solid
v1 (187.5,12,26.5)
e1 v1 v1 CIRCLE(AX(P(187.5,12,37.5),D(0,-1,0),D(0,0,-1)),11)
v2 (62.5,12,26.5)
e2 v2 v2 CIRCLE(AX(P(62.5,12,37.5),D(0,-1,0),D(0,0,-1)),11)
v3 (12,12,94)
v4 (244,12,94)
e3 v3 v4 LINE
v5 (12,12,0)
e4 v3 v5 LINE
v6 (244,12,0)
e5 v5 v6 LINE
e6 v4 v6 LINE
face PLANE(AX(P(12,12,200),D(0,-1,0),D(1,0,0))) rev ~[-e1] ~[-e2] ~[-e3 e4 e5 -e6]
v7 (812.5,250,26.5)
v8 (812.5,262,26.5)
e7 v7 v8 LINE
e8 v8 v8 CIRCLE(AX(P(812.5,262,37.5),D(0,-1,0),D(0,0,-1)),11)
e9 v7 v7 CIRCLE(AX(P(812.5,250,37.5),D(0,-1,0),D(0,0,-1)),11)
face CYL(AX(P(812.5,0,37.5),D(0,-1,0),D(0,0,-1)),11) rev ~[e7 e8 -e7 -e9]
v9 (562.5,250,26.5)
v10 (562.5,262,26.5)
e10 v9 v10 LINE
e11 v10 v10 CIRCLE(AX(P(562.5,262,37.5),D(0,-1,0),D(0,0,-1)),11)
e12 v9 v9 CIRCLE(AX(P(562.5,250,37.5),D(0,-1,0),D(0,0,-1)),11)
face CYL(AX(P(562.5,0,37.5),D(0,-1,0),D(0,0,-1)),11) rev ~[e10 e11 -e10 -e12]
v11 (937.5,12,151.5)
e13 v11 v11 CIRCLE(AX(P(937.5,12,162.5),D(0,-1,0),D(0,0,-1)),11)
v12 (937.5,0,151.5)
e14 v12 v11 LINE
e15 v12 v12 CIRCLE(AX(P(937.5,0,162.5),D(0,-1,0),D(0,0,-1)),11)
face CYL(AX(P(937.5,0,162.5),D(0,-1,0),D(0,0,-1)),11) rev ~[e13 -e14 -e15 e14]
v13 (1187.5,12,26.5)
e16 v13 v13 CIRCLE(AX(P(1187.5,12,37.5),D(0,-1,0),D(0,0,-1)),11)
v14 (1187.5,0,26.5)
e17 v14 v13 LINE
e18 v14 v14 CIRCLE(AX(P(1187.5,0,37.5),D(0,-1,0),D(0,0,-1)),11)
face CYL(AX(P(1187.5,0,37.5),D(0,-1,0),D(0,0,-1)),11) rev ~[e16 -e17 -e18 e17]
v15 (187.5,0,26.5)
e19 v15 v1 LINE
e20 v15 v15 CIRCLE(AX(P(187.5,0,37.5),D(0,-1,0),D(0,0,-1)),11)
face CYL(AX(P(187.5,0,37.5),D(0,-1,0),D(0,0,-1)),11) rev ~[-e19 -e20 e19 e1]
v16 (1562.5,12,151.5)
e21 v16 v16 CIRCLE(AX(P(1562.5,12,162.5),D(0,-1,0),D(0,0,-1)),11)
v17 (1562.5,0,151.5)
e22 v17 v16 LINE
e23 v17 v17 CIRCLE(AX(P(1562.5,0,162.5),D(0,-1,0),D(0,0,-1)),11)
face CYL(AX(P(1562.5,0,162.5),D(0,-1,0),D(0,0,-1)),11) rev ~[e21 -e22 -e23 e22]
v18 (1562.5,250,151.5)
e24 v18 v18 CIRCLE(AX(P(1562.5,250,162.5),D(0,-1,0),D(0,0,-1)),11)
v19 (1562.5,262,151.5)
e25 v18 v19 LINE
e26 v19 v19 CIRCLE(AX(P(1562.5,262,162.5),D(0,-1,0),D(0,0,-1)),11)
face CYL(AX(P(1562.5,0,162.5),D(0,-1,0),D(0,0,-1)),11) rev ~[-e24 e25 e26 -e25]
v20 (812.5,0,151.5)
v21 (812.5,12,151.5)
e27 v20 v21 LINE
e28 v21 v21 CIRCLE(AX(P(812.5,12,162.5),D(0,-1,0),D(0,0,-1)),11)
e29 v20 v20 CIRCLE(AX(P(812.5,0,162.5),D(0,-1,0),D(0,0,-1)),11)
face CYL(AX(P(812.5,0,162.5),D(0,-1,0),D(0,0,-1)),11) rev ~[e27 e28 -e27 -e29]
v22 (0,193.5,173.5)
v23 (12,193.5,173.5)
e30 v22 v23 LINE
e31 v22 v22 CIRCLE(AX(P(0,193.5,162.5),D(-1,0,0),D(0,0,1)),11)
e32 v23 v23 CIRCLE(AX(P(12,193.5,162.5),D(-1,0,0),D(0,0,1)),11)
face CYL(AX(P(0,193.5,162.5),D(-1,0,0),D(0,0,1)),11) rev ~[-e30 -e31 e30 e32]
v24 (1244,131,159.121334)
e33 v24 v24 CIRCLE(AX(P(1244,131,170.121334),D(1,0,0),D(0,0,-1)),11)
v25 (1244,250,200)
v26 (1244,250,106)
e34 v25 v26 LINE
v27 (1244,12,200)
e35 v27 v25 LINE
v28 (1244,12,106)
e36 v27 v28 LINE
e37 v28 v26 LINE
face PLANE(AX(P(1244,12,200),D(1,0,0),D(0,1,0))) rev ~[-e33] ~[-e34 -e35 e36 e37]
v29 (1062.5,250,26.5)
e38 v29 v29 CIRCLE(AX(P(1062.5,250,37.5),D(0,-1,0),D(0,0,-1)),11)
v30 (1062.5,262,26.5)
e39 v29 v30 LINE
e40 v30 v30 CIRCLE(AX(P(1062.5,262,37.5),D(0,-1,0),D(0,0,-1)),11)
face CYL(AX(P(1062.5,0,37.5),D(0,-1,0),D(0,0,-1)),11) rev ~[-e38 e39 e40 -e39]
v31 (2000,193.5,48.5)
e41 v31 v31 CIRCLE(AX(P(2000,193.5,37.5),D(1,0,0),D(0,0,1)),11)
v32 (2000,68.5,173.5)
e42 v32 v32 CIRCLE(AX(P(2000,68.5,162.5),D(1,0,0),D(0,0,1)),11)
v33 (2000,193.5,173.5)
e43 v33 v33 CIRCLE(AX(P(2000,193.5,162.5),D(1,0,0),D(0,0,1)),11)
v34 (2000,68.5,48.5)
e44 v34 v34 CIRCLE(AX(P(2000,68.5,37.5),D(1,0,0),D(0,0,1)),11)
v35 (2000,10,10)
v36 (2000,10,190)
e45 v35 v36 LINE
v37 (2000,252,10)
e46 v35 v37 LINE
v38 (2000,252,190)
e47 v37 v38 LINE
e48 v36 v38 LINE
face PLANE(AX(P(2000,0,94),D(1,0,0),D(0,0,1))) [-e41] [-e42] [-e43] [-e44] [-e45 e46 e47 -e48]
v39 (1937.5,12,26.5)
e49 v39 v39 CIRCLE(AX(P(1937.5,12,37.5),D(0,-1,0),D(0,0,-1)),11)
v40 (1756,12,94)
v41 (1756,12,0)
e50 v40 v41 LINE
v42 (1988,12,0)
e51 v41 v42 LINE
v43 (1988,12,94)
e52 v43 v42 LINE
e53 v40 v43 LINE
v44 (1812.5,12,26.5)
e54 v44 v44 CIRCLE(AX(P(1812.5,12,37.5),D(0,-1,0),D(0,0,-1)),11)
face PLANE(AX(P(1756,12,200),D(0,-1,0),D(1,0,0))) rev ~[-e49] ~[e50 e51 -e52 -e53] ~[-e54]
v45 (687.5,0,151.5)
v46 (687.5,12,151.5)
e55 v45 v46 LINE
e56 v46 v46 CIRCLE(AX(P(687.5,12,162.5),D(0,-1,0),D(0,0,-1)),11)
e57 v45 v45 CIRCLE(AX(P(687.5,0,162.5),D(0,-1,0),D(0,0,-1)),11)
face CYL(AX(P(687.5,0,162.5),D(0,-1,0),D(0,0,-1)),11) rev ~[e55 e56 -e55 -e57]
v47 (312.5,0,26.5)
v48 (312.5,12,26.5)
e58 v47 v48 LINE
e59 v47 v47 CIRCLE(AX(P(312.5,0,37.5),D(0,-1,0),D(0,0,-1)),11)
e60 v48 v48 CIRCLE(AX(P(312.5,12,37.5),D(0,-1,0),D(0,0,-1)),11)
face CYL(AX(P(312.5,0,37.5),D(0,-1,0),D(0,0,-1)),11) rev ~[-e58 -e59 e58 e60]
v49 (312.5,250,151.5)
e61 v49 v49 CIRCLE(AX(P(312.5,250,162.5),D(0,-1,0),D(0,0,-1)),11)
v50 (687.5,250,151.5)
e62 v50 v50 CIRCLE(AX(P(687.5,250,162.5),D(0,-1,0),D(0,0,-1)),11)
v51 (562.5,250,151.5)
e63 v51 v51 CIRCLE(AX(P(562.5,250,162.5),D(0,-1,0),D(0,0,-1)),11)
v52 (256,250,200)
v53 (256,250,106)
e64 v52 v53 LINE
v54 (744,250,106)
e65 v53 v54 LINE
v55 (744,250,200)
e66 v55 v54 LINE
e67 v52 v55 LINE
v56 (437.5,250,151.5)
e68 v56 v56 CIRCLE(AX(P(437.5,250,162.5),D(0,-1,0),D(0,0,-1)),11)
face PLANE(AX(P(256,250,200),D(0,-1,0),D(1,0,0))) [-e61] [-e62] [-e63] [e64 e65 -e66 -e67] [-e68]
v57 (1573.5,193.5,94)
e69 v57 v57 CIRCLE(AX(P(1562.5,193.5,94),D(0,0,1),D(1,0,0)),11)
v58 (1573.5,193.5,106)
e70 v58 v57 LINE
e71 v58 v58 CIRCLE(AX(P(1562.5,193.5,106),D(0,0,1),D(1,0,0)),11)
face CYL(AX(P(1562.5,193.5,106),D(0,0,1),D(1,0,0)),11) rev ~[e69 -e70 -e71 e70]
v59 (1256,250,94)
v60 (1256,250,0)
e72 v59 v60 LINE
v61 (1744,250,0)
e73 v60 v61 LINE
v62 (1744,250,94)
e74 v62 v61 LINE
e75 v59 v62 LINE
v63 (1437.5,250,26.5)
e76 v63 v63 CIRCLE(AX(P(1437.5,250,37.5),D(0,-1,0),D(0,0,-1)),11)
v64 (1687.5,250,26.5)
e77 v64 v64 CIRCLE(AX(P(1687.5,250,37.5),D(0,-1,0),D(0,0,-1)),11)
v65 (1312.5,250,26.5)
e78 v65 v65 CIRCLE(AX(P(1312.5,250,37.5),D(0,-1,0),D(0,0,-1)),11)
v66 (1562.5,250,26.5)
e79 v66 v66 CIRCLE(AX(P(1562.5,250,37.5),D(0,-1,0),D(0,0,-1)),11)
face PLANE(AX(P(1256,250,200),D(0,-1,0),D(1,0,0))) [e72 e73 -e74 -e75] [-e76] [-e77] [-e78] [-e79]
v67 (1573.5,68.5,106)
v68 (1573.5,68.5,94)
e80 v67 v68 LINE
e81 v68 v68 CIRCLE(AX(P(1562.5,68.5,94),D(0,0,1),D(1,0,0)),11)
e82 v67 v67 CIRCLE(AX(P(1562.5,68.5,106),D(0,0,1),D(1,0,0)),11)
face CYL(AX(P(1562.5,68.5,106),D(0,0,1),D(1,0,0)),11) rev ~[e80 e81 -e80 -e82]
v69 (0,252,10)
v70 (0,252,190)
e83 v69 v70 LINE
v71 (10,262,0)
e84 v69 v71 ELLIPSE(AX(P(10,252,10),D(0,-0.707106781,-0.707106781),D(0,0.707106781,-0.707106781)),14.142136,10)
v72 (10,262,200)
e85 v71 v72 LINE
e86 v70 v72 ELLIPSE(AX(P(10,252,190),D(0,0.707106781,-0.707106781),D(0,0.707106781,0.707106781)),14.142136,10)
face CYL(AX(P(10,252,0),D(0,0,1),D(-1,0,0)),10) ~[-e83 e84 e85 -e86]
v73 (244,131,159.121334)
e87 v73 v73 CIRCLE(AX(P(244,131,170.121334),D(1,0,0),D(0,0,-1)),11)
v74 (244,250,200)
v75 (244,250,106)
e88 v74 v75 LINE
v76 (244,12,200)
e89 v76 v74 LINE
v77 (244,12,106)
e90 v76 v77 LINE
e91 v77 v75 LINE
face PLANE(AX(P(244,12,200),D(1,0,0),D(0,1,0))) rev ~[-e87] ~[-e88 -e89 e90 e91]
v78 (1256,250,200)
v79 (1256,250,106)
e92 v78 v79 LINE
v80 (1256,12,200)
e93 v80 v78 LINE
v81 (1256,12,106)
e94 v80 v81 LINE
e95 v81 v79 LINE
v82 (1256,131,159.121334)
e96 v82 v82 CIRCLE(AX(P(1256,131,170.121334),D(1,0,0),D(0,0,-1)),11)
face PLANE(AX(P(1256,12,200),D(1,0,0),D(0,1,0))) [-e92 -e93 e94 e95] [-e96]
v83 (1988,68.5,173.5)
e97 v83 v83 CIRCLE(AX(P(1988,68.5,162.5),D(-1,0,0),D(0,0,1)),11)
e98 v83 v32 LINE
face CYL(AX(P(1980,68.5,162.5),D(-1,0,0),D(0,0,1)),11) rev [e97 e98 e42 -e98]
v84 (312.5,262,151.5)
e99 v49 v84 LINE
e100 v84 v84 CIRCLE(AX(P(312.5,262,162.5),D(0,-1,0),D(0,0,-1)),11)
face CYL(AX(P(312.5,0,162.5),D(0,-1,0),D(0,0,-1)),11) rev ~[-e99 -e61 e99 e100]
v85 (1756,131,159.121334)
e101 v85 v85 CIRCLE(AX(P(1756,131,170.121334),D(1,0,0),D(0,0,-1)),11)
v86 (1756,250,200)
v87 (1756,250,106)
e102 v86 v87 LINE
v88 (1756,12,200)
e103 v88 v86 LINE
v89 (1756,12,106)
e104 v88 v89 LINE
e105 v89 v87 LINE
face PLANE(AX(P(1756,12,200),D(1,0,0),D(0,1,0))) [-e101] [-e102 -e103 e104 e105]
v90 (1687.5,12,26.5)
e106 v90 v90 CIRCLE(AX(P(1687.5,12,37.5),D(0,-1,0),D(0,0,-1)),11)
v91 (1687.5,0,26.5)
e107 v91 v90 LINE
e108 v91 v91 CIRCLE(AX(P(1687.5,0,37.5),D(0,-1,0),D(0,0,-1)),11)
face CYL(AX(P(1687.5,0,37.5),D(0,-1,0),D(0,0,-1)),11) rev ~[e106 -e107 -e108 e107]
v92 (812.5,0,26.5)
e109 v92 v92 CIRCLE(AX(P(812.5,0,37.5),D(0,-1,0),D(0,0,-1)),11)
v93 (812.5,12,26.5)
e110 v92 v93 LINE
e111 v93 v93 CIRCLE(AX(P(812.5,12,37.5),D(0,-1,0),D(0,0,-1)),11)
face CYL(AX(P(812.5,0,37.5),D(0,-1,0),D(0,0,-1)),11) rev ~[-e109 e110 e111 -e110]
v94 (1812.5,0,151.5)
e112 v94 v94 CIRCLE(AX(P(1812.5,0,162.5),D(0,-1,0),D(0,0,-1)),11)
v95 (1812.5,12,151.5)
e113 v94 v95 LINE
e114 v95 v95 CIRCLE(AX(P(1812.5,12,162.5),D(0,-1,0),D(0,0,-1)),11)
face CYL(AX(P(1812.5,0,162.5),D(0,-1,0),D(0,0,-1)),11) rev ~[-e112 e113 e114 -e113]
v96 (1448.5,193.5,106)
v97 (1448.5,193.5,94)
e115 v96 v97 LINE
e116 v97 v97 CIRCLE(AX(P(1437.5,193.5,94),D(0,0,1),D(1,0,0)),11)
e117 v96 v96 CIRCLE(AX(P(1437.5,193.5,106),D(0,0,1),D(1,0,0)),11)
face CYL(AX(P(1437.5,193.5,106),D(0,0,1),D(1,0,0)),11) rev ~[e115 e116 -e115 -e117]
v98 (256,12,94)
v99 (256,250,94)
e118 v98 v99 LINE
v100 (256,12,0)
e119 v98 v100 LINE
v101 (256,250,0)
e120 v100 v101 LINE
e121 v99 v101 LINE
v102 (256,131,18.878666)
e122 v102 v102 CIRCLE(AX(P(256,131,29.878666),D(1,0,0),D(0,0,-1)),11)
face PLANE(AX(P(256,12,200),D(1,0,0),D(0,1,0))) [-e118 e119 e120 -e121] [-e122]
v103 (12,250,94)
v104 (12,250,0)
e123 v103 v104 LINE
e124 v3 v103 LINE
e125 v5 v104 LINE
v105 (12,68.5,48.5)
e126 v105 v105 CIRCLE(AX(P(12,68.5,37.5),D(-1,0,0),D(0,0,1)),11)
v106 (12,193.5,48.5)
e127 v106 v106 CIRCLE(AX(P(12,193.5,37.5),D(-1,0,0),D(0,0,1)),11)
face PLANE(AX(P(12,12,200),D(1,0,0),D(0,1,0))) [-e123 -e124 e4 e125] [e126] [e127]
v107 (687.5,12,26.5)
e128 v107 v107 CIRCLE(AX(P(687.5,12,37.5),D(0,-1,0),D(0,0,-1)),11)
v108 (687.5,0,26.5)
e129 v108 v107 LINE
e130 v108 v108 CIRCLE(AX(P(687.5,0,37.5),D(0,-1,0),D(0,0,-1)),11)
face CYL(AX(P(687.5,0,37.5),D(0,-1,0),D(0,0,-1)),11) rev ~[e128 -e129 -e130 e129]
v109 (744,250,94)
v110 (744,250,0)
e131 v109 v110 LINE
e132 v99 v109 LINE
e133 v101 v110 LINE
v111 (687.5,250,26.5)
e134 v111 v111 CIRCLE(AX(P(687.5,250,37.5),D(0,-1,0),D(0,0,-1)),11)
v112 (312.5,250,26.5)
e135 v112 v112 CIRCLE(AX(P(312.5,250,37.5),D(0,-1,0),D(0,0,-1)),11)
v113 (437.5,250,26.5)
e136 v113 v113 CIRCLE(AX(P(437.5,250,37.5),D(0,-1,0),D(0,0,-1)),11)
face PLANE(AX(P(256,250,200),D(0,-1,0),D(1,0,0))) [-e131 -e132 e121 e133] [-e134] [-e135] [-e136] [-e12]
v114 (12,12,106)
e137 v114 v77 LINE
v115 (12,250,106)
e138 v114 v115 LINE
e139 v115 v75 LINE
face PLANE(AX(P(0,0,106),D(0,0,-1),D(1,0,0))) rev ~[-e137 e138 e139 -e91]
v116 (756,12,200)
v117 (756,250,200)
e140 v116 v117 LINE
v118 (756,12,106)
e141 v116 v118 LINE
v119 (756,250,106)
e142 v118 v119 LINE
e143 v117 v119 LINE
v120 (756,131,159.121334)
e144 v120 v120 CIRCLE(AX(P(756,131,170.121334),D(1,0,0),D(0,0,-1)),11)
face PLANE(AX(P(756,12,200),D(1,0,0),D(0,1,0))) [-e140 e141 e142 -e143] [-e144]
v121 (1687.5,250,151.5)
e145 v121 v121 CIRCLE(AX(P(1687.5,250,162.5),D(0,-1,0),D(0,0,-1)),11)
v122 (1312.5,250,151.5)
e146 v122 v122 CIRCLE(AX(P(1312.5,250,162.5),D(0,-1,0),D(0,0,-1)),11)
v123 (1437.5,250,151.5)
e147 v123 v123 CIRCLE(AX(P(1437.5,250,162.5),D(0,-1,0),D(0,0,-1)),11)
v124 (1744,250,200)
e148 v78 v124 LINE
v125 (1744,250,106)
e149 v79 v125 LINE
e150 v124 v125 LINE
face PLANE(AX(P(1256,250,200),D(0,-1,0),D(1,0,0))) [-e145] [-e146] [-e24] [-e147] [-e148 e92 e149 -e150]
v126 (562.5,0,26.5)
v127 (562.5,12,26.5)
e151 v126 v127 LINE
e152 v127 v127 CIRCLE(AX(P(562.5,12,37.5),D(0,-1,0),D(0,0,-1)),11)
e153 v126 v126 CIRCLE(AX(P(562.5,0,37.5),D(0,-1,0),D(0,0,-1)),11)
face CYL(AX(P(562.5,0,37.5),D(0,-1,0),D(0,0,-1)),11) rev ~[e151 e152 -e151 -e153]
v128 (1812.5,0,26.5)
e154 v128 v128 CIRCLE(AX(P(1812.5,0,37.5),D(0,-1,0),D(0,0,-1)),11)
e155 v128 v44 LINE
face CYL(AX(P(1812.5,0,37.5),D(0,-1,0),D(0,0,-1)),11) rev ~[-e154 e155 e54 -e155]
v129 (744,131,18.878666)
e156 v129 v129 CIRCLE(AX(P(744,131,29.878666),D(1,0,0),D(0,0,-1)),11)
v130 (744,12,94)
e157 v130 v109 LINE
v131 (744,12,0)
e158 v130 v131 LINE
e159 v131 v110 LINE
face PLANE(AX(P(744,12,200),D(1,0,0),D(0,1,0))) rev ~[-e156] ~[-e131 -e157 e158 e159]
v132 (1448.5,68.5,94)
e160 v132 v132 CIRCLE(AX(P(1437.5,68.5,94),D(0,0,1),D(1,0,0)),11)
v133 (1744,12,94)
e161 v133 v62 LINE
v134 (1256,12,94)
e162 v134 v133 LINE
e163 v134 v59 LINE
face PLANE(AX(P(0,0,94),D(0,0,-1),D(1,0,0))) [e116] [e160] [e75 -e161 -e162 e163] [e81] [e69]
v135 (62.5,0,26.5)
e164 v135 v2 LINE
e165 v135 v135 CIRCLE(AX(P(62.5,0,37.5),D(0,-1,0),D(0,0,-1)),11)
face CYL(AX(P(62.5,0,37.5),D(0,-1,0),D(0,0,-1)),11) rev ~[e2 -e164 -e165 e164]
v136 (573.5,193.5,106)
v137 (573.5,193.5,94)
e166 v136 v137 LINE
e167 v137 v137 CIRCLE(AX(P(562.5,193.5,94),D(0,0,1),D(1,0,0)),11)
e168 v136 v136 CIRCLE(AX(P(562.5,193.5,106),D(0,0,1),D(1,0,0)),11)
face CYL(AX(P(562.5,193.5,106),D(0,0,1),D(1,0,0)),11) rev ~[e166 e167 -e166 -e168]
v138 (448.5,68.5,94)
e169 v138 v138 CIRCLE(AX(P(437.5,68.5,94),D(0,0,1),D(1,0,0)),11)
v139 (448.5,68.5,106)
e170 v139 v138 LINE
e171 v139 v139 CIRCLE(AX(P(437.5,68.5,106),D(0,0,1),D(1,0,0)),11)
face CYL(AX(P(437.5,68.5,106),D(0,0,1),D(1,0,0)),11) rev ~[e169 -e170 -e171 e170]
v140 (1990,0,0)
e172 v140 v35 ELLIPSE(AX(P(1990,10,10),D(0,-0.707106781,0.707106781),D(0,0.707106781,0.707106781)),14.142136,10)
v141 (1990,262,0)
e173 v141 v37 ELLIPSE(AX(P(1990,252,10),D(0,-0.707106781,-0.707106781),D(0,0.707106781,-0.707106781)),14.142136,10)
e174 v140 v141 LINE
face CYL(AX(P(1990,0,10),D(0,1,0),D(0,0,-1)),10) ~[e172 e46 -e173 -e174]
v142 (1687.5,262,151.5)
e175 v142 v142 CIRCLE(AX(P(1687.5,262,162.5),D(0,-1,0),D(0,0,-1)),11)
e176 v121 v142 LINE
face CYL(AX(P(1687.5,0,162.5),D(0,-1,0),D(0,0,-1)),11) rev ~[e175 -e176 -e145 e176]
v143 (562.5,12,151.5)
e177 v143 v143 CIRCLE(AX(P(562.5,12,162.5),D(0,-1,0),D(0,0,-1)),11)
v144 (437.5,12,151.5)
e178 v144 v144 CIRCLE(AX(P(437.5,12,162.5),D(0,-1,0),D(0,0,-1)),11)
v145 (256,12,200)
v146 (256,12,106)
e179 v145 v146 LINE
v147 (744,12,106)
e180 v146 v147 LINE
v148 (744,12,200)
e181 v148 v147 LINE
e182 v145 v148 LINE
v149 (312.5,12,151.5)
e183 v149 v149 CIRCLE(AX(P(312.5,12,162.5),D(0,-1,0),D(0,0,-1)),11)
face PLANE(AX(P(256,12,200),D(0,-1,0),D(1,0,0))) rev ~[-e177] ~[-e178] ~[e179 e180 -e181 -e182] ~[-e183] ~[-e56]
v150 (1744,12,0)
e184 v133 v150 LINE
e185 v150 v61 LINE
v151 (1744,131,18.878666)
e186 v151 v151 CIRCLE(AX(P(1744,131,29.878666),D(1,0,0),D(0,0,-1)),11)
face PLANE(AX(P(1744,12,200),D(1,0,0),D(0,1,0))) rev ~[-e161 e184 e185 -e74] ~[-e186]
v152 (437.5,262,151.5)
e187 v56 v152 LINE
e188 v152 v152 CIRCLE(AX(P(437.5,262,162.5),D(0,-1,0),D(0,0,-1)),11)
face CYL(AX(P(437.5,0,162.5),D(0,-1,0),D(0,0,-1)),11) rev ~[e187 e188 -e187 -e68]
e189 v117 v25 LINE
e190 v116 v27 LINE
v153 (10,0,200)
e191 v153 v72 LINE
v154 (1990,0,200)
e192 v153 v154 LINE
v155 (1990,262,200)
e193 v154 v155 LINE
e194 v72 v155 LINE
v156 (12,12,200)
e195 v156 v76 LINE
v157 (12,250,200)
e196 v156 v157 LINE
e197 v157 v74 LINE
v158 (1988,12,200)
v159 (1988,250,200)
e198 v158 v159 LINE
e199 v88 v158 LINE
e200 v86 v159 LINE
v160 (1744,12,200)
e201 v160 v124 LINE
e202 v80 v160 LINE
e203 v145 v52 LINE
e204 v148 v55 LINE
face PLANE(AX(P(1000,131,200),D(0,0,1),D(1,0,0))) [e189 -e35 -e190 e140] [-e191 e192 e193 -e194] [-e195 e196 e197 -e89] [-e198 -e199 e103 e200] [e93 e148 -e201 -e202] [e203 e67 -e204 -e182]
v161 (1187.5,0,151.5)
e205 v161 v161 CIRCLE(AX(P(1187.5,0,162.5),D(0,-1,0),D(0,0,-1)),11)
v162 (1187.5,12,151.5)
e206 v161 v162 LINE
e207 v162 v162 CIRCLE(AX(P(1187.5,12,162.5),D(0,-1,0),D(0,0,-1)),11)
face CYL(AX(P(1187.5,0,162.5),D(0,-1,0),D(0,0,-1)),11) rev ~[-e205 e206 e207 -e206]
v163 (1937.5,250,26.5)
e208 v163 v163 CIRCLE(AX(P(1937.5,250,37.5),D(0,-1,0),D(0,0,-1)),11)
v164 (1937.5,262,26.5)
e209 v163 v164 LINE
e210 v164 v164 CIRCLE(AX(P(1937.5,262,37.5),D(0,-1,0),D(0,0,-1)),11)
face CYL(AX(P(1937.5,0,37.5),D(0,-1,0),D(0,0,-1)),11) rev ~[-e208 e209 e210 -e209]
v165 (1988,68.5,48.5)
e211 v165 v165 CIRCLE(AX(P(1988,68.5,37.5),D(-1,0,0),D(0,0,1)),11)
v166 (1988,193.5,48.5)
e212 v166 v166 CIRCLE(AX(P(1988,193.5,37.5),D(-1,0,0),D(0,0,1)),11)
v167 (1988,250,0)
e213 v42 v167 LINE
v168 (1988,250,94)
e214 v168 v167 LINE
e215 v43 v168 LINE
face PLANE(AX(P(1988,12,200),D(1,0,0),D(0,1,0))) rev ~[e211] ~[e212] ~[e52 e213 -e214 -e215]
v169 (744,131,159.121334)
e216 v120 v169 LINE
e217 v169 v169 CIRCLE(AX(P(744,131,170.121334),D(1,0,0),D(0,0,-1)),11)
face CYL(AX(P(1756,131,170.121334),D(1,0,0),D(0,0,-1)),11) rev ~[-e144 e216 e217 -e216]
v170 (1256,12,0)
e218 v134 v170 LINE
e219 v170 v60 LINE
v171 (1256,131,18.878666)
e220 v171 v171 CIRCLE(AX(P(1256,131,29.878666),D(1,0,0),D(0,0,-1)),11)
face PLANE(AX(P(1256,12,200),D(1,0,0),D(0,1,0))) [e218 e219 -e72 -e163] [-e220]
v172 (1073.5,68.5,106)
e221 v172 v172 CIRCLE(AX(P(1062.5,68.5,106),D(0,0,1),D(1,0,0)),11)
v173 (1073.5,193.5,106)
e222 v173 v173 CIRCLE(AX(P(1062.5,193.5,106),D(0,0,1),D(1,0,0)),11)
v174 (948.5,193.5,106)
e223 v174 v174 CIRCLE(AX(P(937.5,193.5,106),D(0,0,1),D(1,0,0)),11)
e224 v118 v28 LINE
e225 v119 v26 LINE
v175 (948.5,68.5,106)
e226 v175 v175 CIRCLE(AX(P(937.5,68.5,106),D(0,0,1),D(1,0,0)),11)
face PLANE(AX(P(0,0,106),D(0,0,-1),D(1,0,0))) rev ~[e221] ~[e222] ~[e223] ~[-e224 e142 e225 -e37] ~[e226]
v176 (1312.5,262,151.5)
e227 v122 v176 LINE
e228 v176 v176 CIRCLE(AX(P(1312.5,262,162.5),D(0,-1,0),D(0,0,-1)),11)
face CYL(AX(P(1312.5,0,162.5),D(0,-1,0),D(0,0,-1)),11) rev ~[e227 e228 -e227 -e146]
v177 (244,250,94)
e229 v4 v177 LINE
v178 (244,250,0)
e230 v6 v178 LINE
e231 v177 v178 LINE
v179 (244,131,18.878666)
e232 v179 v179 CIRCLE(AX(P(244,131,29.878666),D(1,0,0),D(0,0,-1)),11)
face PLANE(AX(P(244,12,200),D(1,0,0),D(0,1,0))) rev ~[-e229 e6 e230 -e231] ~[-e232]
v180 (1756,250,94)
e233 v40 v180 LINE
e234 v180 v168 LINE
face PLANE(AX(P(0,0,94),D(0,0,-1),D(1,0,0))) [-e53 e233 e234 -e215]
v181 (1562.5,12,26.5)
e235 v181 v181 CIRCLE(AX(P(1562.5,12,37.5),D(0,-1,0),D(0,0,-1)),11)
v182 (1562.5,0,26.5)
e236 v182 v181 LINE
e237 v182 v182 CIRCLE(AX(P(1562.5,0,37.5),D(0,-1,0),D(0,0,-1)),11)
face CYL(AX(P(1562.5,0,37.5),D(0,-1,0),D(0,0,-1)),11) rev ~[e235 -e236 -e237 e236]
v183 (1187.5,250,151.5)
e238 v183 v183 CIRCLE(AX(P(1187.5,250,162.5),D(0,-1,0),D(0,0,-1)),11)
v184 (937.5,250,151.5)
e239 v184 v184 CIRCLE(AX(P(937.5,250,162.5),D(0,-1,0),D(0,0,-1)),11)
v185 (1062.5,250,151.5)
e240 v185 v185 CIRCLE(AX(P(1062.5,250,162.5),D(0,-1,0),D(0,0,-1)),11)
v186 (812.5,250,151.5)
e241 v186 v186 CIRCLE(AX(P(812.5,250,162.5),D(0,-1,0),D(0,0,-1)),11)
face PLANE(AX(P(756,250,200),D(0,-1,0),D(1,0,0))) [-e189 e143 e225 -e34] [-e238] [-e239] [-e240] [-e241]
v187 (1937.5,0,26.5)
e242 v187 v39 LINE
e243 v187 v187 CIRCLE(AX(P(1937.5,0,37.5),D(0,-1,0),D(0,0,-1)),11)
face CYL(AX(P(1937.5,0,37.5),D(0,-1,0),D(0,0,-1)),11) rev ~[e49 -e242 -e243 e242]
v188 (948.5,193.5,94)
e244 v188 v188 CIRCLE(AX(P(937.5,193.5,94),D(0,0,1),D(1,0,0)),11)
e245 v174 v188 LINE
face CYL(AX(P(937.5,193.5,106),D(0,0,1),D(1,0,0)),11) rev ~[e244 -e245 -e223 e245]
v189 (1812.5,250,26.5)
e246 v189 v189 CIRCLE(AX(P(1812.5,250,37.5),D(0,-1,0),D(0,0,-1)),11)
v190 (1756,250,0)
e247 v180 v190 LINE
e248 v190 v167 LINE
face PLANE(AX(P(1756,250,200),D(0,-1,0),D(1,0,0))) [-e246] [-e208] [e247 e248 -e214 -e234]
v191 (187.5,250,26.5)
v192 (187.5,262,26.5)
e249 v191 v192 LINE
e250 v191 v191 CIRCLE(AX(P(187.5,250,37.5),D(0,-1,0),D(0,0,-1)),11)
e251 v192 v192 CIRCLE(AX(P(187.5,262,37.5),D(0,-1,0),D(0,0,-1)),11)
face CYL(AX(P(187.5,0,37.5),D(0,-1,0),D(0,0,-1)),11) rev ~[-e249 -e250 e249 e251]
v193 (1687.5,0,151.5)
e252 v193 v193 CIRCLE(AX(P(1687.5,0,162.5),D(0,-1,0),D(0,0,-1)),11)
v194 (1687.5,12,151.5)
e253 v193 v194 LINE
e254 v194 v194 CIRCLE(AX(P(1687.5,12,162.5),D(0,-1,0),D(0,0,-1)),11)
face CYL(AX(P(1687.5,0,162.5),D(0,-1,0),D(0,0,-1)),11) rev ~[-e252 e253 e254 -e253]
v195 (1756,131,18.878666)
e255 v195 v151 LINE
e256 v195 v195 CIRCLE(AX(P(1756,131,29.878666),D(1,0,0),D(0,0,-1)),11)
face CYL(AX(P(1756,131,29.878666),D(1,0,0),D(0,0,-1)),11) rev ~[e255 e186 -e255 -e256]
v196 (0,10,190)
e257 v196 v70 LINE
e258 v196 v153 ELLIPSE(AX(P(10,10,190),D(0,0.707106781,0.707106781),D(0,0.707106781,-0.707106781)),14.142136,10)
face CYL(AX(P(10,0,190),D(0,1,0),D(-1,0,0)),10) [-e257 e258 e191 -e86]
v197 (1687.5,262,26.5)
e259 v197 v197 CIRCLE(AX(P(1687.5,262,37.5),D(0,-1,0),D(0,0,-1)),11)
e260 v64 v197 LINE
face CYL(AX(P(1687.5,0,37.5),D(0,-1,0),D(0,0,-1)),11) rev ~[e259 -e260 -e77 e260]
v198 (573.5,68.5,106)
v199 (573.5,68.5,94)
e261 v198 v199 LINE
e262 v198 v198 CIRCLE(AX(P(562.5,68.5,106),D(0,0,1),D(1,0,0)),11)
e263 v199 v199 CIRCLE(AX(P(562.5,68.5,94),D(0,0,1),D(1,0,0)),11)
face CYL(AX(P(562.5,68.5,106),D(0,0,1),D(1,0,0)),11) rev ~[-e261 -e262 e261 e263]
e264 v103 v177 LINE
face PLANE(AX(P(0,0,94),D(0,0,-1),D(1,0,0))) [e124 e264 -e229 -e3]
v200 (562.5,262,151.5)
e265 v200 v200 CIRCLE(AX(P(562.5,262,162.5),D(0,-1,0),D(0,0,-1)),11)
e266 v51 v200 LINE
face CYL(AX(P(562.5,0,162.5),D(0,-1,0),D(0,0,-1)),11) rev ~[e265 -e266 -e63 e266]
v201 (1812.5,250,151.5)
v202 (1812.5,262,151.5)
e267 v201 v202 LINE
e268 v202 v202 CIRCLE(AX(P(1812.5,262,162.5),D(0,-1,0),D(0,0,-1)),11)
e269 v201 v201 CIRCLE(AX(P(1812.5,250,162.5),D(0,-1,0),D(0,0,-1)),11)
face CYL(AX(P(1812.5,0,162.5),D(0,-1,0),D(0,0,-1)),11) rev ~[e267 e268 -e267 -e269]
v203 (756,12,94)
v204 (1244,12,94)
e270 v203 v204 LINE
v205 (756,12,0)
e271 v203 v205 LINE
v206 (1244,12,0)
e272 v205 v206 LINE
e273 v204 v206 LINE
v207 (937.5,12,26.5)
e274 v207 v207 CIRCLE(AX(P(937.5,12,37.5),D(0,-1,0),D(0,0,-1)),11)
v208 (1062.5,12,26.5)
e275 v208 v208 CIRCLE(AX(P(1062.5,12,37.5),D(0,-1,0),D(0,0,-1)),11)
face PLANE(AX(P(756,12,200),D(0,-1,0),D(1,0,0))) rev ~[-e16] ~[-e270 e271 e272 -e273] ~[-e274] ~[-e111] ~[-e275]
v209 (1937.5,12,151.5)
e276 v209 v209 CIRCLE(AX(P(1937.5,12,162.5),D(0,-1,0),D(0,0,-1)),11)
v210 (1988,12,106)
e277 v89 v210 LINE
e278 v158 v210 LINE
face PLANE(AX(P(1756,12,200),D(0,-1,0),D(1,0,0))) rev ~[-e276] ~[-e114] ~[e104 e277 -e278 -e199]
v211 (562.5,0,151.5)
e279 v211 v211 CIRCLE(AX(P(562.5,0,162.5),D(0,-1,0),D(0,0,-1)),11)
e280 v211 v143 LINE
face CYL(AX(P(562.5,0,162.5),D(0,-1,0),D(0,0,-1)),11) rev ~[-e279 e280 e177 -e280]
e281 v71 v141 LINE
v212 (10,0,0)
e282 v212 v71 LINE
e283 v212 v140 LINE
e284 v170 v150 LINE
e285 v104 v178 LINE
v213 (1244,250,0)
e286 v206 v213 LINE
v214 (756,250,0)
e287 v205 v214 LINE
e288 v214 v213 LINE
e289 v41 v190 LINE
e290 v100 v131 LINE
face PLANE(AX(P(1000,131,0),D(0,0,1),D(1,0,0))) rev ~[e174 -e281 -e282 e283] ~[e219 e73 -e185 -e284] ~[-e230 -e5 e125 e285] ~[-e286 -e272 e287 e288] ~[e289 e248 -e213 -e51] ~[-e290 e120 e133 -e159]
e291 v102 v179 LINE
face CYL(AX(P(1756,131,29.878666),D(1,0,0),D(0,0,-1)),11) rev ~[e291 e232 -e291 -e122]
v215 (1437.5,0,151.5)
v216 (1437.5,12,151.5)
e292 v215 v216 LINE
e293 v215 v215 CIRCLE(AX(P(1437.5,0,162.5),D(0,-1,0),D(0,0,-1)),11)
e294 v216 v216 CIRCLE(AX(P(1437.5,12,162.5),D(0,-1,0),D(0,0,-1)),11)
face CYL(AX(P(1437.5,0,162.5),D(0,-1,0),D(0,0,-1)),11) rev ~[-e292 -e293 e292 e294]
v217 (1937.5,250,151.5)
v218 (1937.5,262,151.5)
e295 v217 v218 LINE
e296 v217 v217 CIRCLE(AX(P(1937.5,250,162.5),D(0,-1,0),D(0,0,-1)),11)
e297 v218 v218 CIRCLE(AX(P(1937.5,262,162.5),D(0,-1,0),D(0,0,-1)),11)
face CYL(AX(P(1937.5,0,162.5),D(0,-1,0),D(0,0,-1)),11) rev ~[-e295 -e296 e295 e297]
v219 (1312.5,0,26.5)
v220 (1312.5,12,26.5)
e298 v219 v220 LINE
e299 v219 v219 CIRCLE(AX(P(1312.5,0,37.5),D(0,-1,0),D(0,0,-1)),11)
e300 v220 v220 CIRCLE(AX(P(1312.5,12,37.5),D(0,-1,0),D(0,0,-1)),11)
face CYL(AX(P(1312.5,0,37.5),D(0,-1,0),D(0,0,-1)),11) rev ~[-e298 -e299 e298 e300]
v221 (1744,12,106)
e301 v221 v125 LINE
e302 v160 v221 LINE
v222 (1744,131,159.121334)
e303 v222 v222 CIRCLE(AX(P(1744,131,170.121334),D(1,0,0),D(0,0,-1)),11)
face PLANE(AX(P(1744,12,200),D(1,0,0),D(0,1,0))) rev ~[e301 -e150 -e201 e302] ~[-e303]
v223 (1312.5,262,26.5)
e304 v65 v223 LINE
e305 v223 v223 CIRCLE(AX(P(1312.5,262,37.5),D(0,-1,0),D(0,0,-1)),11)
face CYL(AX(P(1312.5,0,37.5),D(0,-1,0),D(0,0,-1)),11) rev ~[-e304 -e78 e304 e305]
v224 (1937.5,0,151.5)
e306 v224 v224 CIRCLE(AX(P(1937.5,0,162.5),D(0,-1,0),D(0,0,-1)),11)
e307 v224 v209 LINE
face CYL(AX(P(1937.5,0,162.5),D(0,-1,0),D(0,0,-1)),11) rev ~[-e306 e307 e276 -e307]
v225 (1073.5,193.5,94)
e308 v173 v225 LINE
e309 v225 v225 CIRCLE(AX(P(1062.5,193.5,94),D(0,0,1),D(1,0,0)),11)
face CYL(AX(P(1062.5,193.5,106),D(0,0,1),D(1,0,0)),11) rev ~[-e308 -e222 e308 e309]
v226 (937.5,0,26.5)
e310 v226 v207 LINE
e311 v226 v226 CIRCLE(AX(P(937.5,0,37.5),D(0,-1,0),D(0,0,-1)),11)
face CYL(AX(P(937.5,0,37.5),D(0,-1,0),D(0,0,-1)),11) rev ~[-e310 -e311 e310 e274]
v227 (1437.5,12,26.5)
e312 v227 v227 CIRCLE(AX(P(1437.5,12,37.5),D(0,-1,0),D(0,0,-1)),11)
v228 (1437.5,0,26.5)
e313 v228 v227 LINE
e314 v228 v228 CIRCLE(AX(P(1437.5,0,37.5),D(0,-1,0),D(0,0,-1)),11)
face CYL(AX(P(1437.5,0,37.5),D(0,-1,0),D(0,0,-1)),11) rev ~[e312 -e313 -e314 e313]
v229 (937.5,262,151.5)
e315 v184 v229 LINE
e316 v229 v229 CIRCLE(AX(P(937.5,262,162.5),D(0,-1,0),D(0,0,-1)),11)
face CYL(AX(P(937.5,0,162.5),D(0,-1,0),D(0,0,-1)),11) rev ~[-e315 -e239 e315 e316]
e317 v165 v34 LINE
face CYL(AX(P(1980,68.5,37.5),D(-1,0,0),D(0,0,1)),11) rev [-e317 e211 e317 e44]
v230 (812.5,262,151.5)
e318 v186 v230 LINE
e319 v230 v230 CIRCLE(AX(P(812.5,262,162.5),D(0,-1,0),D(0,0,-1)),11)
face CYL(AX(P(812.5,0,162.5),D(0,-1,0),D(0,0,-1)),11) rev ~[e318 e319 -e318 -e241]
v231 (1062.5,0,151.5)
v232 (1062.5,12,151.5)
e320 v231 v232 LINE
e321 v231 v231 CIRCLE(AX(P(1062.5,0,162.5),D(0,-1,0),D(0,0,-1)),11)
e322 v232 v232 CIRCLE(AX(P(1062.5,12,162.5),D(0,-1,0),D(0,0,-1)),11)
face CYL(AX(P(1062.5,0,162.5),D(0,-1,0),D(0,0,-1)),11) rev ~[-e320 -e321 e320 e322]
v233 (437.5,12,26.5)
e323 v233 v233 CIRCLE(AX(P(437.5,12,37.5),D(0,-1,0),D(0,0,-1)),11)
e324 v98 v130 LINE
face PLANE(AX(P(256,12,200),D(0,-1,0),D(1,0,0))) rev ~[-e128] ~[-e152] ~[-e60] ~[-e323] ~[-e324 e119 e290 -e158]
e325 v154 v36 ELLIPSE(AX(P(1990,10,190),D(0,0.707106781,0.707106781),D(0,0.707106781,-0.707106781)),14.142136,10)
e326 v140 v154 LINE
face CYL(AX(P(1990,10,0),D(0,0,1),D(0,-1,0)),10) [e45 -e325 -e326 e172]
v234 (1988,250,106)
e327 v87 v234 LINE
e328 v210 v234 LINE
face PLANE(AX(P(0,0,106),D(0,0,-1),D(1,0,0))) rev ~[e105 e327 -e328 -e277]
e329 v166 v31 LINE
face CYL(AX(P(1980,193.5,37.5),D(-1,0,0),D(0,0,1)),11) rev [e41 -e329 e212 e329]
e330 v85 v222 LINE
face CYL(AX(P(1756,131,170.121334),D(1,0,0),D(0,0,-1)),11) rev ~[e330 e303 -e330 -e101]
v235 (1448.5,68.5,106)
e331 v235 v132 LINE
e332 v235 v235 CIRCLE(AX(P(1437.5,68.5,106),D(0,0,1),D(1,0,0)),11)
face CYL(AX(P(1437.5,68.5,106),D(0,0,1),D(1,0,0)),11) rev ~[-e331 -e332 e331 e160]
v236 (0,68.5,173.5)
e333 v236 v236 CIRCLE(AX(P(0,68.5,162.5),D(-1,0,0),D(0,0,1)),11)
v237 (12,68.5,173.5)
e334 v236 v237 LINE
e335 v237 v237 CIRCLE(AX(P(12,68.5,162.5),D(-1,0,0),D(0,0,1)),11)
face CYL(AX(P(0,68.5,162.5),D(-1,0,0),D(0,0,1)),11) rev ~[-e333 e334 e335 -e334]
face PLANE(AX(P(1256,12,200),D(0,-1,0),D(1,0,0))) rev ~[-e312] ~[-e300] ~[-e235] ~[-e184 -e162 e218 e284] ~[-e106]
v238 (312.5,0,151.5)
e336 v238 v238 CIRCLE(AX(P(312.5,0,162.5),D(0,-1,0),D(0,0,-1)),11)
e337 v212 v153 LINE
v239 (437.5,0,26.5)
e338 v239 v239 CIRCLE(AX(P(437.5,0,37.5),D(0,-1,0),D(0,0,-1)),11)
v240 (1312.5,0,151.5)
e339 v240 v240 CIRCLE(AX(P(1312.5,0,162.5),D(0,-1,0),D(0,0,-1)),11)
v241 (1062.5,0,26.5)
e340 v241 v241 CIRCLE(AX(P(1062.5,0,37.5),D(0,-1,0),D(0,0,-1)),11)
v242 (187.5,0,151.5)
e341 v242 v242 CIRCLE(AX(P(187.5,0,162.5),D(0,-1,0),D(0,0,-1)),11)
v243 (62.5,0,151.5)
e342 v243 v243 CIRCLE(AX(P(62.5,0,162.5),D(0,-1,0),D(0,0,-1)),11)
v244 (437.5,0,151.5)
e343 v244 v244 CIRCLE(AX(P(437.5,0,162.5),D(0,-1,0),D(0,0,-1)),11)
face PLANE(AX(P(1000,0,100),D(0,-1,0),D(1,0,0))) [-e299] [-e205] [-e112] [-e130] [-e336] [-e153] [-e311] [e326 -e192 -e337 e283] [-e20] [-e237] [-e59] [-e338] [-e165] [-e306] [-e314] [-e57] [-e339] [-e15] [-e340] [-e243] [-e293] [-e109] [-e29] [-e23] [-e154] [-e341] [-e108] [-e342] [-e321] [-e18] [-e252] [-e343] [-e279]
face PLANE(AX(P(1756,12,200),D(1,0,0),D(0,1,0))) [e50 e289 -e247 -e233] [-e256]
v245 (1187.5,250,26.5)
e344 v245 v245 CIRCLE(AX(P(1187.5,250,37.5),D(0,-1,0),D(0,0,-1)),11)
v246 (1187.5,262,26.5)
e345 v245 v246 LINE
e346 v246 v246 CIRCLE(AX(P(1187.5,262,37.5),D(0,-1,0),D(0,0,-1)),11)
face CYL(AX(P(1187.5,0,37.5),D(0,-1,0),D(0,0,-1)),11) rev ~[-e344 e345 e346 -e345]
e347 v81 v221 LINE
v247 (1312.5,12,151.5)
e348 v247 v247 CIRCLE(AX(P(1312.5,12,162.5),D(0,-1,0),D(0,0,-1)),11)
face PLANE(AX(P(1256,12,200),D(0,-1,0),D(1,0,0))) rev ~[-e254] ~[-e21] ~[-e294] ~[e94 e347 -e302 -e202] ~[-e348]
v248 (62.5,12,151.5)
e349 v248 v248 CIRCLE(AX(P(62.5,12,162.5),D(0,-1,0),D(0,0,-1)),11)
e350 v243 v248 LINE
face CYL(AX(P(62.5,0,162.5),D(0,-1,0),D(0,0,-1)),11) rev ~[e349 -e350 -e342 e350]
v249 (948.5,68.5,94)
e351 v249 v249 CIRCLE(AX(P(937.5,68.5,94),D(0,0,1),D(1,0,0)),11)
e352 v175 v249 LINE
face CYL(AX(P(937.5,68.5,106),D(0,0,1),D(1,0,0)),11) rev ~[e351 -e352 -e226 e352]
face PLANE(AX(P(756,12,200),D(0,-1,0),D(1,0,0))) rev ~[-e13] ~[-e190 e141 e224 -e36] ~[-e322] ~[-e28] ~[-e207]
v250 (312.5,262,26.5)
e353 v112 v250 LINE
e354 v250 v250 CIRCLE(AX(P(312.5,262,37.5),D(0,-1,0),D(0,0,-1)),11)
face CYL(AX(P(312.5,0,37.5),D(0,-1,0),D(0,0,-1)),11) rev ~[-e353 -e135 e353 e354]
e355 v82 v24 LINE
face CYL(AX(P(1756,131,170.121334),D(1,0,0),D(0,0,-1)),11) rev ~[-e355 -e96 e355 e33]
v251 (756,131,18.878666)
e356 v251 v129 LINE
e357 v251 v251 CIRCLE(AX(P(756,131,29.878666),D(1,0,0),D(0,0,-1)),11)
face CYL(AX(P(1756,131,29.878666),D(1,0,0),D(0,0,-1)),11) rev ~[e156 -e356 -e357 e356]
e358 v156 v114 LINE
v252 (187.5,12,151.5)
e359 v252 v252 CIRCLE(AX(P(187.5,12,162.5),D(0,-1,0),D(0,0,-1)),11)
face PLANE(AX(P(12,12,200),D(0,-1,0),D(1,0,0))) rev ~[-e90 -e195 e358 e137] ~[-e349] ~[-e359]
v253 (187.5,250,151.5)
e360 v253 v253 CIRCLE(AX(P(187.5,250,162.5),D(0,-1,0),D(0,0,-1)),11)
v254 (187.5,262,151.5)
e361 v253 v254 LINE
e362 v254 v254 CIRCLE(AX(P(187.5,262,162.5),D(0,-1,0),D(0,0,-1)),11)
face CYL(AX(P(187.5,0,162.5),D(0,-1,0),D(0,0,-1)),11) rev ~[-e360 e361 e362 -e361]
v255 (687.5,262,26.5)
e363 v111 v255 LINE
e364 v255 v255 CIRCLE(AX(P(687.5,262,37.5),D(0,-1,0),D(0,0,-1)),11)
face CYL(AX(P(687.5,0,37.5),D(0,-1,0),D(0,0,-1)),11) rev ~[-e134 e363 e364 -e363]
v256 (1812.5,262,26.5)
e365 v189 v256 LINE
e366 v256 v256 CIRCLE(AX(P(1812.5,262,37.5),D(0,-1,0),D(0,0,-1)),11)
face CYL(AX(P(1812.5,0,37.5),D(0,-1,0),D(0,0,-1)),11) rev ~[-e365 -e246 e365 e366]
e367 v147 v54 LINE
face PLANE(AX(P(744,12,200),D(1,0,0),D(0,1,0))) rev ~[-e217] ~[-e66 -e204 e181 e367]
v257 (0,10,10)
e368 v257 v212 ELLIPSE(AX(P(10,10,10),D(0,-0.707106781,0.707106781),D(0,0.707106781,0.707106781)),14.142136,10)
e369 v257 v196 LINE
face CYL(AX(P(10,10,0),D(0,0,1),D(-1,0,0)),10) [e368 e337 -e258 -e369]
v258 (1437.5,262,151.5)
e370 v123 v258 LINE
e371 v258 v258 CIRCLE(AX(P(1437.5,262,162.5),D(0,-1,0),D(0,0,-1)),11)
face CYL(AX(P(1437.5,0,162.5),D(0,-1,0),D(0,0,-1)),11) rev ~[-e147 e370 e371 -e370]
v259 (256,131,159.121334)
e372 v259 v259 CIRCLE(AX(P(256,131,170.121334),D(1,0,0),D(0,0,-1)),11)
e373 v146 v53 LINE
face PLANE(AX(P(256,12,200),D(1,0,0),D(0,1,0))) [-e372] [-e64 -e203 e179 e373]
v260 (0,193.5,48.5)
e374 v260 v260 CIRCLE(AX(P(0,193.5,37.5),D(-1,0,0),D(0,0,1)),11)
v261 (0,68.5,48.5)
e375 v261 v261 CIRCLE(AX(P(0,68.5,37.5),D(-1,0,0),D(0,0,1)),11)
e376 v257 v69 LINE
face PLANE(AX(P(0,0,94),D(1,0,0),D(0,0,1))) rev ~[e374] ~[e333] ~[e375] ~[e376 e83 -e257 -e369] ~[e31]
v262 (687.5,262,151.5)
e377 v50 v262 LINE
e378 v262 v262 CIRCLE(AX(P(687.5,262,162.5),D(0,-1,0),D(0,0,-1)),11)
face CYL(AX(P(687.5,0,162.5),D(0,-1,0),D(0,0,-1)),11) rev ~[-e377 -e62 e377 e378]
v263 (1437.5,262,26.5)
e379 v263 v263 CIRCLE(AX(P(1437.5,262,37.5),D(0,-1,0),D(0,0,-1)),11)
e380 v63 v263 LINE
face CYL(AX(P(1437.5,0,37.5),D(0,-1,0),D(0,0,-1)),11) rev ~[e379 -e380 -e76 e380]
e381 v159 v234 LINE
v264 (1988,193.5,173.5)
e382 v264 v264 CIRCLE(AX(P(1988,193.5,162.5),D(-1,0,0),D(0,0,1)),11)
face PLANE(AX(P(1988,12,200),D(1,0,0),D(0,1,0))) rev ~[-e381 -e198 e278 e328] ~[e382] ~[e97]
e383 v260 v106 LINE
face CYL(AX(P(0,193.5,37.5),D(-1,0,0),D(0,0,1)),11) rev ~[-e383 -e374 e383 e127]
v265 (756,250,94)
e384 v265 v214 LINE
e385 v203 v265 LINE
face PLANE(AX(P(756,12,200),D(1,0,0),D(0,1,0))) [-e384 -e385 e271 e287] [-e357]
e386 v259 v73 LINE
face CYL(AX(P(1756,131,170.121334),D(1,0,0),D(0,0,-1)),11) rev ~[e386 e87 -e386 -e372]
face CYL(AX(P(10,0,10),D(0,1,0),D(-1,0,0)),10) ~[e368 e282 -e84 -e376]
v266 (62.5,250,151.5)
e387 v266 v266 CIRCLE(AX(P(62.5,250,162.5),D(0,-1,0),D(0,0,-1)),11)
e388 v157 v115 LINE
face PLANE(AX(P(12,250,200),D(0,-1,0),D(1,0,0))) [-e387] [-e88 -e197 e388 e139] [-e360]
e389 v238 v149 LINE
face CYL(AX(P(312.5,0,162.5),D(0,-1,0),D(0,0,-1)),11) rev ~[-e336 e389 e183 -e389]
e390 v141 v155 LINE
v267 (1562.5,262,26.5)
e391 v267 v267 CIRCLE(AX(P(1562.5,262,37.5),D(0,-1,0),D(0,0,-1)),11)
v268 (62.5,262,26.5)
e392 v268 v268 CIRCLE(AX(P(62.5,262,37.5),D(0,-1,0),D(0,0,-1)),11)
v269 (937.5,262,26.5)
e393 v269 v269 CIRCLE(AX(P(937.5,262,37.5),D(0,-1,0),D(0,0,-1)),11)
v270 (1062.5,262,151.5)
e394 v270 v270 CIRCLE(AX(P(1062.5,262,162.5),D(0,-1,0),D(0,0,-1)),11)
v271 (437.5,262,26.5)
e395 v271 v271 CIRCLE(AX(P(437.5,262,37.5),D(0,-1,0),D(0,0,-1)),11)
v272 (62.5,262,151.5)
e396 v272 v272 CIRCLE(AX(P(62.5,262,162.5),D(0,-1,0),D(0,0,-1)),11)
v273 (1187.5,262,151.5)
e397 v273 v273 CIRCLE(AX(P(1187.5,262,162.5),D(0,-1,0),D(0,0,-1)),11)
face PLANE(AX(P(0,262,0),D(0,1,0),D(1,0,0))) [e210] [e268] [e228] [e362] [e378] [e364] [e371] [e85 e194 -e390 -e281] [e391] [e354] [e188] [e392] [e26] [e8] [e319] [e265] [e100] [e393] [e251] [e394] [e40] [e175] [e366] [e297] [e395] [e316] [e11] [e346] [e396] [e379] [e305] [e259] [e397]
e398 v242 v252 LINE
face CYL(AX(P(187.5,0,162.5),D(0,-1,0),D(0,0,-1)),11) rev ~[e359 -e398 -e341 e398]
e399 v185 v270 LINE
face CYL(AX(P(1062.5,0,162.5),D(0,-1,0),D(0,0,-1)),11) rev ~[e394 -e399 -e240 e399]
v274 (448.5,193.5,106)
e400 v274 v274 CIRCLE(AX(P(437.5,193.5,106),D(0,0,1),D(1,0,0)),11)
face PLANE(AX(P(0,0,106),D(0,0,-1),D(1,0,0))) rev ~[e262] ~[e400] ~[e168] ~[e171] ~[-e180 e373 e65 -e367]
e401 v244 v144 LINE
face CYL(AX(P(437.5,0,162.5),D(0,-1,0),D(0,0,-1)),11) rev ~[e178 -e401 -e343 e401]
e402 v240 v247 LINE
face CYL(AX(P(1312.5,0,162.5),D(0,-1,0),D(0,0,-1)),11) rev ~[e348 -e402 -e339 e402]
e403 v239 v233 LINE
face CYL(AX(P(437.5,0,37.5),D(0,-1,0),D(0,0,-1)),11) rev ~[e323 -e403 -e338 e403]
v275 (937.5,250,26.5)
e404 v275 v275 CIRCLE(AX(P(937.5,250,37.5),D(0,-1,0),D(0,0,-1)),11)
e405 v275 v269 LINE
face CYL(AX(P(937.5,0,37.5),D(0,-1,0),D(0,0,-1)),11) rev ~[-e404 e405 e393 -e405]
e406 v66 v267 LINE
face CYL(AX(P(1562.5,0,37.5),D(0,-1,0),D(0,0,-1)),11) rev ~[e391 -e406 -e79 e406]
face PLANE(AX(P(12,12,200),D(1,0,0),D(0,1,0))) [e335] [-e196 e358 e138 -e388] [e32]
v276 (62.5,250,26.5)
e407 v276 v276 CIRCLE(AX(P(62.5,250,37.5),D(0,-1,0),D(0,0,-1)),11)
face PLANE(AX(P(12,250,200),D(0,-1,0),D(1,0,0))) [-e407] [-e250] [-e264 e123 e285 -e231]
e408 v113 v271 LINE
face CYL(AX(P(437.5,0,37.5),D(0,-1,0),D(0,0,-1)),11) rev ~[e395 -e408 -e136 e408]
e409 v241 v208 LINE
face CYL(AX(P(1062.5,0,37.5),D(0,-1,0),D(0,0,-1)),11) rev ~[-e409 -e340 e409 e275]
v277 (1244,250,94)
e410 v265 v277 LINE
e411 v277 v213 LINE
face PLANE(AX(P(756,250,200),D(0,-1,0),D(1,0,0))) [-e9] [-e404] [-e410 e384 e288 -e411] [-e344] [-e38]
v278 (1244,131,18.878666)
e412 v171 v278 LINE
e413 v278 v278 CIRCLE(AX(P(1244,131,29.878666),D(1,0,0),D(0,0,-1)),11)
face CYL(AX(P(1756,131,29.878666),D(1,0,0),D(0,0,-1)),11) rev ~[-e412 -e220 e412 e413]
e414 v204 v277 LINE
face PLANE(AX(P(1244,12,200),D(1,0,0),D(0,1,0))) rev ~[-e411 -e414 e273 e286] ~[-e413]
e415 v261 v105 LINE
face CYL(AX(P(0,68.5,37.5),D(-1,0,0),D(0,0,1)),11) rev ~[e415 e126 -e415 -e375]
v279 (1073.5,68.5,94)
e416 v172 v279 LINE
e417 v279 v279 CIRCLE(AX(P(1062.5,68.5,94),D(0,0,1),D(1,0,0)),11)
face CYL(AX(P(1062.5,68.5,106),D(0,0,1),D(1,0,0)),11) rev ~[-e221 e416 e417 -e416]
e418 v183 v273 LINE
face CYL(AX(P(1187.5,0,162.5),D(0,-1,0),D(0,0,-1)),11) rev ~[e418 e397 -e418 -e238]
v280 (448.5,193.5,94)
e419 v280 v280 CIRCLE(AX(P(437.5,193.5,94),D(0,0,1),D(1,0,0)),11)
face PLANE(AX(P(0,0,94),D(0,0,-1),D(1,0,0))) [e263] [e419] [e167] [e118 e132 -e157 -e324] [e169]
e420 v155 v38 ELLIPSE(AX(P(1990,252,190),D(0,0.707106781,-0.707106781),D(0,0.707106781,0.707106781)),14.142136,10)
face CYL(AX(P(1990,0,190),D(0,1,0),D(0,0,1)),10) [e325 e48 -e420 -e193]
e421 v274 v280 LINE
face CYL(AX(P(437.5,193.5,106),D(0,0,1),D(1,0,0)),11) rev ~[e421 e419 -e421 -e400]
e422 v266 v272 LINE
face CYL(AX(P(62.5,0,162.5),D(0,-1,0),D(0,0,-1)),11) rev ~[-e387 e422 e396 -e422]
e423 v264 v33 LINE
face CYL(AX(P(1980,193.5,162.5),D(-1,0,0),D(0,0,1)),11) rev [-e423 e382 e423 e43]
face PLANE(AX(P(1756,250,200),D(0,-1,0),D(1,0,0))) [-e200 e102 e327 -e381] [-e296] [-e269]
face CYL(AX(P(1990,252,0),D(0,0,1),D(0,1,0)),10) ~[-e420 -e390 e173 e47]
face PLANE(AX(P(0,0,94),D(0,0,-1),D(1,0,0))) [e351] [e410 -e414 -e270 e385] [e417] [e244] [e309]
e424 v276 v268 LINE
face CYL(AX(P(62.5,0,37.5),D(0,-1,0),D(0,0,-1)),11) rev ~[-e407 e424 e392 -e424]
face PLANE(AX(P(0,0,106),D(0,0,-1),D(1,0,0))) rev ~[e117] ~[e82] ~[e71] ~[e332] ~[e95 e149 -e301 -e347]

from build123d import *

# Parameters (mm, degrees)
SKETCH_1_W                        = 2000
SKETCH_1_H                        = 262
EXTRUDE_1_DEPTH                   = 200
SKETCH_5_W                        = 232
SKETCH_5_H                        = 238
SKETCH_5_W_2                      = 488
CUT_EXTRUDE_10_DEPTH              = 2027.979032945
SKETCH_7_W                        = 2000
SKETCH_7_H                        = 12
EXTRUDE_13_DEPTH                  = 260
SKETCH_8_R                        = 11
CUT_EXTRUDE_14_DEPTH              = 2027.979032945
PATTERN_LINEAR_3_COUNT            = 16
PATTERN_LINEAR_3_PITCH            = 125
PATTERN_LINEAR_3_COUNT_DIR2       = 2
PATTERN_LINEAR_3_PITCH_DIR2       = 125
SKETCH_10_R                       = 11
CUT_EXTRUDE_16_DEPTH              = 20
PATTERN_LINEAR_5_COUNT            = 2
PATTERN_LINEAR_5_PITCH            = 125
PATTERN_LINEAR_5_COUNT_DIR2       = 2
PATTERN_LINEAR_5_PITCH_DIR2       = 125
CUT_EXTRUDE_START                 = -20
SKETCH_11_R                       = 11
CUT_EXTRUDE_17_DEPTH              = 20
PATTERN_LINEAR_6_COUNT            = 2
PATTERN_LINEAR_6_PITCH            = 125
PATTERN_LINEAR_6_COUNT_DIR2       = 2
PATTERN_LINEAR_6_PITCH_DIR2       = 125
SKETCH_12_R                       = 11
CUT_EXTRUDE_18_DEPTH              = 1550
PATTERN_LINEAR_8_COUNT            = 2
PATTERN_LINEAR_8_PITCH            = 140.2426687
FILLET_1_R                        = 10
FILLET_2_R                        = 10
SKETCH_13_R                       = 11
CUT_EXTRUDE_19_DEPTH              = 2020.871283028
PATTERN_LINEAR_9_COUNT            = 2
PATTERN_LINEAR_9_PITCH            = 125
PATTERN_LINEAR_9_COUNT_DIR2       = 2
PATTERN_LINEAR_9_PITCH_DIR2       = 125
PATTERN_LINEAR_10_COUNT           = 3
PATTERN_LINEAR_10_PITCH           = 500
PATTERN_LINEAR_10_COPY_1_SKETCH_R = 11
PATTERN_LINEAR_10_COPY_1_DEPTH    = 2020.871283028
PATTERN_LINEAR_10_COPY_2_SKETCH_R = 11
PATTERN_LINEAR_10_COPY_2_DEPTH    = 2020.871283028
PATTERN_LINEAR_10_COPY_3_SKETCH_R = 11
PATTERN_LINEAR_10_COPY_3_DEPTH    = 2020.871283028
PATTERN_LINEAR_10_COPY_4_SKETCH_R = 11
PATTERN_LINEAR_10_COPY_4_DEPTH    = 2020.871283028
PATTERN_LINEAR_10_COPY_5_SKETCH_R = 11
PATTERN_LINEAR_10_COPY_5_DEPTH    = 2020.871283028
PATTERN_LINEAR_10_COPY_6_SKETCH_R = 11
PATTERN_LINEAR_10_COPY_6_DEPTH    = 2020.871283028


with BuildPart() as part:
    # 草图1 → 拉伸1 (new body)
    with BuildSketch(Plane.XY):
        with Locations((1000, 131)):
            Rectangle(SKETCH_1_W, SKETCH_1_H)
    extrude(amount=EXTRUDE_1_DEPTH)

    # 草图5 → 拉伸10 (cut, through all)
    with BuildSketch(Plane.XY.offset(200)):
        with Locations((128, 131)):
            Rectangle(SKETCH_5_W, SKETCH_5_H)
        with Locations((500, 131)):
            Rectangle(SKETCH_5_W_2, SKETCH_5_H)
        with Locations((1000, 131)):
            Rectangle(SKETCH_5_W_2, SKETCH_5_H)
        with Locations((1500, 131)):
            Rectangle(SKETCH_5_W_2, SKETCH_5_H)
        with Locations((1872, 131)):
            Rectangle(SKETCH_5_W, SKETCH_5_H)
    extrude(amount=-CUT_EXTRUDE_10_DEPTH, mode=Mode.SUBTRACT)

    # 草图7 → 拉伸13 (add)
    with BuildSketch(Plane.XZ):
        with Locations((1000, 100)):
            Rectangle(SKETCH_7_W, SKETCH_7_H)
    extrude(amount=-EXTRUDE_13_DEPTH)

    # 草图8 → 拉伸14 (cut, through all)
    with BuildSketch(Plane.XZ):
        with Locations(Location((62.5, 37.5, 0), (0, 0, 270))):
            Circle(SKETCH_8_R)
    cut_extrude_14 = extrude(amount=-CUT_EXTRUDE_14_DEPTH, mode=Mode.SUBTRACT)

    # 阵列(线性)3: Cut-Extrude 14 16 × 2
    with Locations(*[(i * PATTERN_LINEAR_3_PITCH, 0, j * PATTERN_LINEAR_3_PITCH_DIR2) for i in range(PATTERN_LINEAR_3_COUNT) for j in range(PATTERN_LINEAR_3_COUNT_DIR2) if (i, j) != (0, 0)]):
        add(cut_extrude_14, mode=Mode.SUBTRACT)

    # 草图10 → 拉伸16 (cut)
    with BuildSketch(Plane.ZY):
        with Locations((37.5, 68.5)):
            Circle(SKETCH_10_R)
    cut_extrude_16 = extrude(amount=-CUT_EXTRUDE_16_DEPTH, mode=Mode.SUBTRACT)

    # 阵列(线性)5: Cut-Extrude 16 2 × 2
    with Locations(*[(0, j * PATTERN_LINEAR_5_PITCH_DIR2, i * PATTERN_LINEAR_5_PITCH) for i in range(PATTERN_LINEAR_5_COUNT) for j in range(PATTERN_LINEAR_5_COUNT_DIR2) if (i, j) != (0, 0)]):
        add(cut_extrude_16, mode=Mode.SUBTRACT)

    # 草图11 → 拉伸17 (cut)
    with BuildSketch(Plane(origin=(2000, 0, 0), x_dir=(0, 0, -1), z_dir=(1, 0, 0)).offset(CUT_EXTRUDE_START)):
        with Locations(Location((-162.5, 68.5, 0), (0, 0, 180))):
            Circle(SKETCH_11_R)
    cut_extrude_17 = extrude(amount=CUT_EXTRUDE_17_DEPTH, mode=Mode.SUBTRACT)

    # 阵列(线性)6: Cut-Extrude 17 2 × 2
    with Locations(*[(0, j * PATTERN_LINEAR_6_PITCH_DIR2, -i * PATTERN_LINEAR_6_PITCH) for i in range(PATTERN_LINEAR_6_COUNT) for j in range(PATTERN_LINEAR_6_COUNT_DIR2) if (i, j) != (0, 0)]):
        add(cut_extrude_17, mode=Mode.SUBTRACT)

    # 草图12 → 拉伸18 (cut)
    with BuildSketch(Plane(origin=(1756, 0, 0), x_dir=(0, 0, -1), z_dir=(1, 0, 0))):
        with Locations((-170.12133435, 131)):
            Circle(SKETCH_12_R)
    cut_extrude_18 = extrude(amount=-CUT_EXTRUDE_18_DEPTH, mode=Mode.SUBTRACT)

    # 阵列(线性)8: 拉伸18 ×2
    with Locations(*[(0, 0, -i * PATTERN_LINEAR_8_PITCH) for i in range(1, PATTERN_LINEAR_8_COUNT)]):
        add(cut_extrude_18, mode=Mode.SUBTRACT)

    # 圆角1
    fillet_1_edges = [part.edges().sort_by_distance(p)[0] for p in [
        (0, 131, 200),
        (0, 131, 0),
        (0, 262, 100),
        (0, 0, 100),
    ]]
    fillet(fillet_1_edges, radius=FILLET_1_R)

    # 圆角2
    fillet_2_edges = [part.edges().sort_by_distance(p)[0] for p in [
        (2000, 131, 200),
        (2000, 131, 0),
        (2000, 262, 100),
        (2000, 0, 100),
    ]]
    fillet(fillet_2_edges, radius=FILLET_2_R)

    # 草图13 → 拉伸19 (cut, through all)
    with BuildSketch(Plane.XY.offset(106)):
        with Locations((437.5, 68.5)):
            Circle(SKETCH_13_R)
    cut_extrude_19 = extrude(amount=-CUT_EXTRUDE_19_DEPTH, mode=Mode.SUBTRACT)

    # 阵列(线性)9: Cut-Extrude 19 2 × 2
    with Locations(*[(i * PATTERN_LINEAR_9_PITCH, j * PATTERN_LINEAR_9_PITCH_DIR2, 0) for i in range(PATTERN_LINEAR_9_COUNT) for j in range(PATTERN_LINEAR_9_COUNT_DIR2) if (i, j) != (0, 0)]):
        add(cut_extrude_19, mode=Mode.SUBTRACT)

    # 阵列(线性)10: 拉伸19 ×3
    with Locations(*[(i * PATTERN_LINEAR_10_PITCH, 0, 0) for i in range(1, PATTERN_LINEAR_10_COUNT)]):
        add(cut_extrude_19, mode=Mode.SUBTRACT)

    # 阵列(线性)10 copy 1 sketch → 阵列(线性)10 copy 1 (cut, through all)
    with BuildSketch(Plane(origin=(500, 125, 106), x_dir=(1, 0, 0), z_dir=(0, 0, 1))):
        with Locations((437.5, 68.5)):
            Circle(PATTERN_LINEAR_10_COPY_1_SKETCH_R)
    extrude(amount=-PATTERN_LINEAR_10_COPY_1_DEPTH, mode=Mode.SUBTRACT)

    # 阵列(线性)10 copy 2 sketch → 阵列(线性)10 copy 2 (cut, through all)
    with BuildSketch(Plane(origin=(1000, 125, 106), x_dir=(1, 0, 0), z_dir=(0, 0, 1))):
        with Locations((437.5, 68.5)):
            Circle(PATTERN_LINEAR_10_COPY_2_SKETCH_R)
    extrude(amount=-PATTERN_LINEAR_10_COPY_2_DEPTH, mode=Mode.SUBTRACT)

    # 阵列(线性)10 copy 3 sketch → 阵列(线性)10 copy 3 (cut, through all)
    with BuildSketch(Plane(origin=(625, 0, 106), x_dir=(1, 0, 0), z_dir=(0, 0, 1))):
        with Locations((437.5, 68.5)):
            Circle(PATTERN_LINEAR_10_COPY_3_SKETCH_R)
    extrude(amount=-PATTERN_LINEAR_10_COPY_3_DEPTH, mode=Mode.SUBTRACT)

    # 阵列(线性)10 copy 4 sketch → 阵列(线性)10 copy 4 (cut, through all)
    with BuildSketch(Plane(origin=(1125, 0, 106), x_dir=(1, 0, 0), z_dir=(0, 0, 1))):
        with Locations((437.5, 68.5)):
            Circle(PATTERN_LINEAR_10_COPY_4_SKETCH_R)
    extrude(amount=-PATTERN_LINEAR_10_COPY_4_DEPTH, mode=Mode.SUBTRACT)

    # 阵列(线性)10 copy 5 sketch → 阵列(线性)10 copy 5 (cut, through all)
    with BuildSketch(Plane(origin=(625, 125, 106), x_dir=(1, 0, 0), z_dir=(0, 0, 1))):
        with Locations((437.5, 68.5)):
            Circle(PATTERN_LINEAR_10_COPY_5_SKETCH_R)
    extrude(amount=-PATTERN_LINEAR_10_COPY_5_DEPTH, mode=Mode.SUBTRACT)

    # 阵列(线性)10 copy 6 sketch → 阵列(线性)10 copy 6 (cut, through all)
    with BuildSketch(Plane(origin=(1125, 125, 106), x_dir=(1, 0, 0), z_dir=(0, 0, 1))):
        with Locations((437.5, 68.5)):
            Circle(PATTERN_LINEAR_10_COPY_6_SKETCH_R)
    extrude(amount=-PATTERN_LINEAR_10_COPY_6_DEPTH, mode=Mode.SUBTRACT)


solid = part.part
